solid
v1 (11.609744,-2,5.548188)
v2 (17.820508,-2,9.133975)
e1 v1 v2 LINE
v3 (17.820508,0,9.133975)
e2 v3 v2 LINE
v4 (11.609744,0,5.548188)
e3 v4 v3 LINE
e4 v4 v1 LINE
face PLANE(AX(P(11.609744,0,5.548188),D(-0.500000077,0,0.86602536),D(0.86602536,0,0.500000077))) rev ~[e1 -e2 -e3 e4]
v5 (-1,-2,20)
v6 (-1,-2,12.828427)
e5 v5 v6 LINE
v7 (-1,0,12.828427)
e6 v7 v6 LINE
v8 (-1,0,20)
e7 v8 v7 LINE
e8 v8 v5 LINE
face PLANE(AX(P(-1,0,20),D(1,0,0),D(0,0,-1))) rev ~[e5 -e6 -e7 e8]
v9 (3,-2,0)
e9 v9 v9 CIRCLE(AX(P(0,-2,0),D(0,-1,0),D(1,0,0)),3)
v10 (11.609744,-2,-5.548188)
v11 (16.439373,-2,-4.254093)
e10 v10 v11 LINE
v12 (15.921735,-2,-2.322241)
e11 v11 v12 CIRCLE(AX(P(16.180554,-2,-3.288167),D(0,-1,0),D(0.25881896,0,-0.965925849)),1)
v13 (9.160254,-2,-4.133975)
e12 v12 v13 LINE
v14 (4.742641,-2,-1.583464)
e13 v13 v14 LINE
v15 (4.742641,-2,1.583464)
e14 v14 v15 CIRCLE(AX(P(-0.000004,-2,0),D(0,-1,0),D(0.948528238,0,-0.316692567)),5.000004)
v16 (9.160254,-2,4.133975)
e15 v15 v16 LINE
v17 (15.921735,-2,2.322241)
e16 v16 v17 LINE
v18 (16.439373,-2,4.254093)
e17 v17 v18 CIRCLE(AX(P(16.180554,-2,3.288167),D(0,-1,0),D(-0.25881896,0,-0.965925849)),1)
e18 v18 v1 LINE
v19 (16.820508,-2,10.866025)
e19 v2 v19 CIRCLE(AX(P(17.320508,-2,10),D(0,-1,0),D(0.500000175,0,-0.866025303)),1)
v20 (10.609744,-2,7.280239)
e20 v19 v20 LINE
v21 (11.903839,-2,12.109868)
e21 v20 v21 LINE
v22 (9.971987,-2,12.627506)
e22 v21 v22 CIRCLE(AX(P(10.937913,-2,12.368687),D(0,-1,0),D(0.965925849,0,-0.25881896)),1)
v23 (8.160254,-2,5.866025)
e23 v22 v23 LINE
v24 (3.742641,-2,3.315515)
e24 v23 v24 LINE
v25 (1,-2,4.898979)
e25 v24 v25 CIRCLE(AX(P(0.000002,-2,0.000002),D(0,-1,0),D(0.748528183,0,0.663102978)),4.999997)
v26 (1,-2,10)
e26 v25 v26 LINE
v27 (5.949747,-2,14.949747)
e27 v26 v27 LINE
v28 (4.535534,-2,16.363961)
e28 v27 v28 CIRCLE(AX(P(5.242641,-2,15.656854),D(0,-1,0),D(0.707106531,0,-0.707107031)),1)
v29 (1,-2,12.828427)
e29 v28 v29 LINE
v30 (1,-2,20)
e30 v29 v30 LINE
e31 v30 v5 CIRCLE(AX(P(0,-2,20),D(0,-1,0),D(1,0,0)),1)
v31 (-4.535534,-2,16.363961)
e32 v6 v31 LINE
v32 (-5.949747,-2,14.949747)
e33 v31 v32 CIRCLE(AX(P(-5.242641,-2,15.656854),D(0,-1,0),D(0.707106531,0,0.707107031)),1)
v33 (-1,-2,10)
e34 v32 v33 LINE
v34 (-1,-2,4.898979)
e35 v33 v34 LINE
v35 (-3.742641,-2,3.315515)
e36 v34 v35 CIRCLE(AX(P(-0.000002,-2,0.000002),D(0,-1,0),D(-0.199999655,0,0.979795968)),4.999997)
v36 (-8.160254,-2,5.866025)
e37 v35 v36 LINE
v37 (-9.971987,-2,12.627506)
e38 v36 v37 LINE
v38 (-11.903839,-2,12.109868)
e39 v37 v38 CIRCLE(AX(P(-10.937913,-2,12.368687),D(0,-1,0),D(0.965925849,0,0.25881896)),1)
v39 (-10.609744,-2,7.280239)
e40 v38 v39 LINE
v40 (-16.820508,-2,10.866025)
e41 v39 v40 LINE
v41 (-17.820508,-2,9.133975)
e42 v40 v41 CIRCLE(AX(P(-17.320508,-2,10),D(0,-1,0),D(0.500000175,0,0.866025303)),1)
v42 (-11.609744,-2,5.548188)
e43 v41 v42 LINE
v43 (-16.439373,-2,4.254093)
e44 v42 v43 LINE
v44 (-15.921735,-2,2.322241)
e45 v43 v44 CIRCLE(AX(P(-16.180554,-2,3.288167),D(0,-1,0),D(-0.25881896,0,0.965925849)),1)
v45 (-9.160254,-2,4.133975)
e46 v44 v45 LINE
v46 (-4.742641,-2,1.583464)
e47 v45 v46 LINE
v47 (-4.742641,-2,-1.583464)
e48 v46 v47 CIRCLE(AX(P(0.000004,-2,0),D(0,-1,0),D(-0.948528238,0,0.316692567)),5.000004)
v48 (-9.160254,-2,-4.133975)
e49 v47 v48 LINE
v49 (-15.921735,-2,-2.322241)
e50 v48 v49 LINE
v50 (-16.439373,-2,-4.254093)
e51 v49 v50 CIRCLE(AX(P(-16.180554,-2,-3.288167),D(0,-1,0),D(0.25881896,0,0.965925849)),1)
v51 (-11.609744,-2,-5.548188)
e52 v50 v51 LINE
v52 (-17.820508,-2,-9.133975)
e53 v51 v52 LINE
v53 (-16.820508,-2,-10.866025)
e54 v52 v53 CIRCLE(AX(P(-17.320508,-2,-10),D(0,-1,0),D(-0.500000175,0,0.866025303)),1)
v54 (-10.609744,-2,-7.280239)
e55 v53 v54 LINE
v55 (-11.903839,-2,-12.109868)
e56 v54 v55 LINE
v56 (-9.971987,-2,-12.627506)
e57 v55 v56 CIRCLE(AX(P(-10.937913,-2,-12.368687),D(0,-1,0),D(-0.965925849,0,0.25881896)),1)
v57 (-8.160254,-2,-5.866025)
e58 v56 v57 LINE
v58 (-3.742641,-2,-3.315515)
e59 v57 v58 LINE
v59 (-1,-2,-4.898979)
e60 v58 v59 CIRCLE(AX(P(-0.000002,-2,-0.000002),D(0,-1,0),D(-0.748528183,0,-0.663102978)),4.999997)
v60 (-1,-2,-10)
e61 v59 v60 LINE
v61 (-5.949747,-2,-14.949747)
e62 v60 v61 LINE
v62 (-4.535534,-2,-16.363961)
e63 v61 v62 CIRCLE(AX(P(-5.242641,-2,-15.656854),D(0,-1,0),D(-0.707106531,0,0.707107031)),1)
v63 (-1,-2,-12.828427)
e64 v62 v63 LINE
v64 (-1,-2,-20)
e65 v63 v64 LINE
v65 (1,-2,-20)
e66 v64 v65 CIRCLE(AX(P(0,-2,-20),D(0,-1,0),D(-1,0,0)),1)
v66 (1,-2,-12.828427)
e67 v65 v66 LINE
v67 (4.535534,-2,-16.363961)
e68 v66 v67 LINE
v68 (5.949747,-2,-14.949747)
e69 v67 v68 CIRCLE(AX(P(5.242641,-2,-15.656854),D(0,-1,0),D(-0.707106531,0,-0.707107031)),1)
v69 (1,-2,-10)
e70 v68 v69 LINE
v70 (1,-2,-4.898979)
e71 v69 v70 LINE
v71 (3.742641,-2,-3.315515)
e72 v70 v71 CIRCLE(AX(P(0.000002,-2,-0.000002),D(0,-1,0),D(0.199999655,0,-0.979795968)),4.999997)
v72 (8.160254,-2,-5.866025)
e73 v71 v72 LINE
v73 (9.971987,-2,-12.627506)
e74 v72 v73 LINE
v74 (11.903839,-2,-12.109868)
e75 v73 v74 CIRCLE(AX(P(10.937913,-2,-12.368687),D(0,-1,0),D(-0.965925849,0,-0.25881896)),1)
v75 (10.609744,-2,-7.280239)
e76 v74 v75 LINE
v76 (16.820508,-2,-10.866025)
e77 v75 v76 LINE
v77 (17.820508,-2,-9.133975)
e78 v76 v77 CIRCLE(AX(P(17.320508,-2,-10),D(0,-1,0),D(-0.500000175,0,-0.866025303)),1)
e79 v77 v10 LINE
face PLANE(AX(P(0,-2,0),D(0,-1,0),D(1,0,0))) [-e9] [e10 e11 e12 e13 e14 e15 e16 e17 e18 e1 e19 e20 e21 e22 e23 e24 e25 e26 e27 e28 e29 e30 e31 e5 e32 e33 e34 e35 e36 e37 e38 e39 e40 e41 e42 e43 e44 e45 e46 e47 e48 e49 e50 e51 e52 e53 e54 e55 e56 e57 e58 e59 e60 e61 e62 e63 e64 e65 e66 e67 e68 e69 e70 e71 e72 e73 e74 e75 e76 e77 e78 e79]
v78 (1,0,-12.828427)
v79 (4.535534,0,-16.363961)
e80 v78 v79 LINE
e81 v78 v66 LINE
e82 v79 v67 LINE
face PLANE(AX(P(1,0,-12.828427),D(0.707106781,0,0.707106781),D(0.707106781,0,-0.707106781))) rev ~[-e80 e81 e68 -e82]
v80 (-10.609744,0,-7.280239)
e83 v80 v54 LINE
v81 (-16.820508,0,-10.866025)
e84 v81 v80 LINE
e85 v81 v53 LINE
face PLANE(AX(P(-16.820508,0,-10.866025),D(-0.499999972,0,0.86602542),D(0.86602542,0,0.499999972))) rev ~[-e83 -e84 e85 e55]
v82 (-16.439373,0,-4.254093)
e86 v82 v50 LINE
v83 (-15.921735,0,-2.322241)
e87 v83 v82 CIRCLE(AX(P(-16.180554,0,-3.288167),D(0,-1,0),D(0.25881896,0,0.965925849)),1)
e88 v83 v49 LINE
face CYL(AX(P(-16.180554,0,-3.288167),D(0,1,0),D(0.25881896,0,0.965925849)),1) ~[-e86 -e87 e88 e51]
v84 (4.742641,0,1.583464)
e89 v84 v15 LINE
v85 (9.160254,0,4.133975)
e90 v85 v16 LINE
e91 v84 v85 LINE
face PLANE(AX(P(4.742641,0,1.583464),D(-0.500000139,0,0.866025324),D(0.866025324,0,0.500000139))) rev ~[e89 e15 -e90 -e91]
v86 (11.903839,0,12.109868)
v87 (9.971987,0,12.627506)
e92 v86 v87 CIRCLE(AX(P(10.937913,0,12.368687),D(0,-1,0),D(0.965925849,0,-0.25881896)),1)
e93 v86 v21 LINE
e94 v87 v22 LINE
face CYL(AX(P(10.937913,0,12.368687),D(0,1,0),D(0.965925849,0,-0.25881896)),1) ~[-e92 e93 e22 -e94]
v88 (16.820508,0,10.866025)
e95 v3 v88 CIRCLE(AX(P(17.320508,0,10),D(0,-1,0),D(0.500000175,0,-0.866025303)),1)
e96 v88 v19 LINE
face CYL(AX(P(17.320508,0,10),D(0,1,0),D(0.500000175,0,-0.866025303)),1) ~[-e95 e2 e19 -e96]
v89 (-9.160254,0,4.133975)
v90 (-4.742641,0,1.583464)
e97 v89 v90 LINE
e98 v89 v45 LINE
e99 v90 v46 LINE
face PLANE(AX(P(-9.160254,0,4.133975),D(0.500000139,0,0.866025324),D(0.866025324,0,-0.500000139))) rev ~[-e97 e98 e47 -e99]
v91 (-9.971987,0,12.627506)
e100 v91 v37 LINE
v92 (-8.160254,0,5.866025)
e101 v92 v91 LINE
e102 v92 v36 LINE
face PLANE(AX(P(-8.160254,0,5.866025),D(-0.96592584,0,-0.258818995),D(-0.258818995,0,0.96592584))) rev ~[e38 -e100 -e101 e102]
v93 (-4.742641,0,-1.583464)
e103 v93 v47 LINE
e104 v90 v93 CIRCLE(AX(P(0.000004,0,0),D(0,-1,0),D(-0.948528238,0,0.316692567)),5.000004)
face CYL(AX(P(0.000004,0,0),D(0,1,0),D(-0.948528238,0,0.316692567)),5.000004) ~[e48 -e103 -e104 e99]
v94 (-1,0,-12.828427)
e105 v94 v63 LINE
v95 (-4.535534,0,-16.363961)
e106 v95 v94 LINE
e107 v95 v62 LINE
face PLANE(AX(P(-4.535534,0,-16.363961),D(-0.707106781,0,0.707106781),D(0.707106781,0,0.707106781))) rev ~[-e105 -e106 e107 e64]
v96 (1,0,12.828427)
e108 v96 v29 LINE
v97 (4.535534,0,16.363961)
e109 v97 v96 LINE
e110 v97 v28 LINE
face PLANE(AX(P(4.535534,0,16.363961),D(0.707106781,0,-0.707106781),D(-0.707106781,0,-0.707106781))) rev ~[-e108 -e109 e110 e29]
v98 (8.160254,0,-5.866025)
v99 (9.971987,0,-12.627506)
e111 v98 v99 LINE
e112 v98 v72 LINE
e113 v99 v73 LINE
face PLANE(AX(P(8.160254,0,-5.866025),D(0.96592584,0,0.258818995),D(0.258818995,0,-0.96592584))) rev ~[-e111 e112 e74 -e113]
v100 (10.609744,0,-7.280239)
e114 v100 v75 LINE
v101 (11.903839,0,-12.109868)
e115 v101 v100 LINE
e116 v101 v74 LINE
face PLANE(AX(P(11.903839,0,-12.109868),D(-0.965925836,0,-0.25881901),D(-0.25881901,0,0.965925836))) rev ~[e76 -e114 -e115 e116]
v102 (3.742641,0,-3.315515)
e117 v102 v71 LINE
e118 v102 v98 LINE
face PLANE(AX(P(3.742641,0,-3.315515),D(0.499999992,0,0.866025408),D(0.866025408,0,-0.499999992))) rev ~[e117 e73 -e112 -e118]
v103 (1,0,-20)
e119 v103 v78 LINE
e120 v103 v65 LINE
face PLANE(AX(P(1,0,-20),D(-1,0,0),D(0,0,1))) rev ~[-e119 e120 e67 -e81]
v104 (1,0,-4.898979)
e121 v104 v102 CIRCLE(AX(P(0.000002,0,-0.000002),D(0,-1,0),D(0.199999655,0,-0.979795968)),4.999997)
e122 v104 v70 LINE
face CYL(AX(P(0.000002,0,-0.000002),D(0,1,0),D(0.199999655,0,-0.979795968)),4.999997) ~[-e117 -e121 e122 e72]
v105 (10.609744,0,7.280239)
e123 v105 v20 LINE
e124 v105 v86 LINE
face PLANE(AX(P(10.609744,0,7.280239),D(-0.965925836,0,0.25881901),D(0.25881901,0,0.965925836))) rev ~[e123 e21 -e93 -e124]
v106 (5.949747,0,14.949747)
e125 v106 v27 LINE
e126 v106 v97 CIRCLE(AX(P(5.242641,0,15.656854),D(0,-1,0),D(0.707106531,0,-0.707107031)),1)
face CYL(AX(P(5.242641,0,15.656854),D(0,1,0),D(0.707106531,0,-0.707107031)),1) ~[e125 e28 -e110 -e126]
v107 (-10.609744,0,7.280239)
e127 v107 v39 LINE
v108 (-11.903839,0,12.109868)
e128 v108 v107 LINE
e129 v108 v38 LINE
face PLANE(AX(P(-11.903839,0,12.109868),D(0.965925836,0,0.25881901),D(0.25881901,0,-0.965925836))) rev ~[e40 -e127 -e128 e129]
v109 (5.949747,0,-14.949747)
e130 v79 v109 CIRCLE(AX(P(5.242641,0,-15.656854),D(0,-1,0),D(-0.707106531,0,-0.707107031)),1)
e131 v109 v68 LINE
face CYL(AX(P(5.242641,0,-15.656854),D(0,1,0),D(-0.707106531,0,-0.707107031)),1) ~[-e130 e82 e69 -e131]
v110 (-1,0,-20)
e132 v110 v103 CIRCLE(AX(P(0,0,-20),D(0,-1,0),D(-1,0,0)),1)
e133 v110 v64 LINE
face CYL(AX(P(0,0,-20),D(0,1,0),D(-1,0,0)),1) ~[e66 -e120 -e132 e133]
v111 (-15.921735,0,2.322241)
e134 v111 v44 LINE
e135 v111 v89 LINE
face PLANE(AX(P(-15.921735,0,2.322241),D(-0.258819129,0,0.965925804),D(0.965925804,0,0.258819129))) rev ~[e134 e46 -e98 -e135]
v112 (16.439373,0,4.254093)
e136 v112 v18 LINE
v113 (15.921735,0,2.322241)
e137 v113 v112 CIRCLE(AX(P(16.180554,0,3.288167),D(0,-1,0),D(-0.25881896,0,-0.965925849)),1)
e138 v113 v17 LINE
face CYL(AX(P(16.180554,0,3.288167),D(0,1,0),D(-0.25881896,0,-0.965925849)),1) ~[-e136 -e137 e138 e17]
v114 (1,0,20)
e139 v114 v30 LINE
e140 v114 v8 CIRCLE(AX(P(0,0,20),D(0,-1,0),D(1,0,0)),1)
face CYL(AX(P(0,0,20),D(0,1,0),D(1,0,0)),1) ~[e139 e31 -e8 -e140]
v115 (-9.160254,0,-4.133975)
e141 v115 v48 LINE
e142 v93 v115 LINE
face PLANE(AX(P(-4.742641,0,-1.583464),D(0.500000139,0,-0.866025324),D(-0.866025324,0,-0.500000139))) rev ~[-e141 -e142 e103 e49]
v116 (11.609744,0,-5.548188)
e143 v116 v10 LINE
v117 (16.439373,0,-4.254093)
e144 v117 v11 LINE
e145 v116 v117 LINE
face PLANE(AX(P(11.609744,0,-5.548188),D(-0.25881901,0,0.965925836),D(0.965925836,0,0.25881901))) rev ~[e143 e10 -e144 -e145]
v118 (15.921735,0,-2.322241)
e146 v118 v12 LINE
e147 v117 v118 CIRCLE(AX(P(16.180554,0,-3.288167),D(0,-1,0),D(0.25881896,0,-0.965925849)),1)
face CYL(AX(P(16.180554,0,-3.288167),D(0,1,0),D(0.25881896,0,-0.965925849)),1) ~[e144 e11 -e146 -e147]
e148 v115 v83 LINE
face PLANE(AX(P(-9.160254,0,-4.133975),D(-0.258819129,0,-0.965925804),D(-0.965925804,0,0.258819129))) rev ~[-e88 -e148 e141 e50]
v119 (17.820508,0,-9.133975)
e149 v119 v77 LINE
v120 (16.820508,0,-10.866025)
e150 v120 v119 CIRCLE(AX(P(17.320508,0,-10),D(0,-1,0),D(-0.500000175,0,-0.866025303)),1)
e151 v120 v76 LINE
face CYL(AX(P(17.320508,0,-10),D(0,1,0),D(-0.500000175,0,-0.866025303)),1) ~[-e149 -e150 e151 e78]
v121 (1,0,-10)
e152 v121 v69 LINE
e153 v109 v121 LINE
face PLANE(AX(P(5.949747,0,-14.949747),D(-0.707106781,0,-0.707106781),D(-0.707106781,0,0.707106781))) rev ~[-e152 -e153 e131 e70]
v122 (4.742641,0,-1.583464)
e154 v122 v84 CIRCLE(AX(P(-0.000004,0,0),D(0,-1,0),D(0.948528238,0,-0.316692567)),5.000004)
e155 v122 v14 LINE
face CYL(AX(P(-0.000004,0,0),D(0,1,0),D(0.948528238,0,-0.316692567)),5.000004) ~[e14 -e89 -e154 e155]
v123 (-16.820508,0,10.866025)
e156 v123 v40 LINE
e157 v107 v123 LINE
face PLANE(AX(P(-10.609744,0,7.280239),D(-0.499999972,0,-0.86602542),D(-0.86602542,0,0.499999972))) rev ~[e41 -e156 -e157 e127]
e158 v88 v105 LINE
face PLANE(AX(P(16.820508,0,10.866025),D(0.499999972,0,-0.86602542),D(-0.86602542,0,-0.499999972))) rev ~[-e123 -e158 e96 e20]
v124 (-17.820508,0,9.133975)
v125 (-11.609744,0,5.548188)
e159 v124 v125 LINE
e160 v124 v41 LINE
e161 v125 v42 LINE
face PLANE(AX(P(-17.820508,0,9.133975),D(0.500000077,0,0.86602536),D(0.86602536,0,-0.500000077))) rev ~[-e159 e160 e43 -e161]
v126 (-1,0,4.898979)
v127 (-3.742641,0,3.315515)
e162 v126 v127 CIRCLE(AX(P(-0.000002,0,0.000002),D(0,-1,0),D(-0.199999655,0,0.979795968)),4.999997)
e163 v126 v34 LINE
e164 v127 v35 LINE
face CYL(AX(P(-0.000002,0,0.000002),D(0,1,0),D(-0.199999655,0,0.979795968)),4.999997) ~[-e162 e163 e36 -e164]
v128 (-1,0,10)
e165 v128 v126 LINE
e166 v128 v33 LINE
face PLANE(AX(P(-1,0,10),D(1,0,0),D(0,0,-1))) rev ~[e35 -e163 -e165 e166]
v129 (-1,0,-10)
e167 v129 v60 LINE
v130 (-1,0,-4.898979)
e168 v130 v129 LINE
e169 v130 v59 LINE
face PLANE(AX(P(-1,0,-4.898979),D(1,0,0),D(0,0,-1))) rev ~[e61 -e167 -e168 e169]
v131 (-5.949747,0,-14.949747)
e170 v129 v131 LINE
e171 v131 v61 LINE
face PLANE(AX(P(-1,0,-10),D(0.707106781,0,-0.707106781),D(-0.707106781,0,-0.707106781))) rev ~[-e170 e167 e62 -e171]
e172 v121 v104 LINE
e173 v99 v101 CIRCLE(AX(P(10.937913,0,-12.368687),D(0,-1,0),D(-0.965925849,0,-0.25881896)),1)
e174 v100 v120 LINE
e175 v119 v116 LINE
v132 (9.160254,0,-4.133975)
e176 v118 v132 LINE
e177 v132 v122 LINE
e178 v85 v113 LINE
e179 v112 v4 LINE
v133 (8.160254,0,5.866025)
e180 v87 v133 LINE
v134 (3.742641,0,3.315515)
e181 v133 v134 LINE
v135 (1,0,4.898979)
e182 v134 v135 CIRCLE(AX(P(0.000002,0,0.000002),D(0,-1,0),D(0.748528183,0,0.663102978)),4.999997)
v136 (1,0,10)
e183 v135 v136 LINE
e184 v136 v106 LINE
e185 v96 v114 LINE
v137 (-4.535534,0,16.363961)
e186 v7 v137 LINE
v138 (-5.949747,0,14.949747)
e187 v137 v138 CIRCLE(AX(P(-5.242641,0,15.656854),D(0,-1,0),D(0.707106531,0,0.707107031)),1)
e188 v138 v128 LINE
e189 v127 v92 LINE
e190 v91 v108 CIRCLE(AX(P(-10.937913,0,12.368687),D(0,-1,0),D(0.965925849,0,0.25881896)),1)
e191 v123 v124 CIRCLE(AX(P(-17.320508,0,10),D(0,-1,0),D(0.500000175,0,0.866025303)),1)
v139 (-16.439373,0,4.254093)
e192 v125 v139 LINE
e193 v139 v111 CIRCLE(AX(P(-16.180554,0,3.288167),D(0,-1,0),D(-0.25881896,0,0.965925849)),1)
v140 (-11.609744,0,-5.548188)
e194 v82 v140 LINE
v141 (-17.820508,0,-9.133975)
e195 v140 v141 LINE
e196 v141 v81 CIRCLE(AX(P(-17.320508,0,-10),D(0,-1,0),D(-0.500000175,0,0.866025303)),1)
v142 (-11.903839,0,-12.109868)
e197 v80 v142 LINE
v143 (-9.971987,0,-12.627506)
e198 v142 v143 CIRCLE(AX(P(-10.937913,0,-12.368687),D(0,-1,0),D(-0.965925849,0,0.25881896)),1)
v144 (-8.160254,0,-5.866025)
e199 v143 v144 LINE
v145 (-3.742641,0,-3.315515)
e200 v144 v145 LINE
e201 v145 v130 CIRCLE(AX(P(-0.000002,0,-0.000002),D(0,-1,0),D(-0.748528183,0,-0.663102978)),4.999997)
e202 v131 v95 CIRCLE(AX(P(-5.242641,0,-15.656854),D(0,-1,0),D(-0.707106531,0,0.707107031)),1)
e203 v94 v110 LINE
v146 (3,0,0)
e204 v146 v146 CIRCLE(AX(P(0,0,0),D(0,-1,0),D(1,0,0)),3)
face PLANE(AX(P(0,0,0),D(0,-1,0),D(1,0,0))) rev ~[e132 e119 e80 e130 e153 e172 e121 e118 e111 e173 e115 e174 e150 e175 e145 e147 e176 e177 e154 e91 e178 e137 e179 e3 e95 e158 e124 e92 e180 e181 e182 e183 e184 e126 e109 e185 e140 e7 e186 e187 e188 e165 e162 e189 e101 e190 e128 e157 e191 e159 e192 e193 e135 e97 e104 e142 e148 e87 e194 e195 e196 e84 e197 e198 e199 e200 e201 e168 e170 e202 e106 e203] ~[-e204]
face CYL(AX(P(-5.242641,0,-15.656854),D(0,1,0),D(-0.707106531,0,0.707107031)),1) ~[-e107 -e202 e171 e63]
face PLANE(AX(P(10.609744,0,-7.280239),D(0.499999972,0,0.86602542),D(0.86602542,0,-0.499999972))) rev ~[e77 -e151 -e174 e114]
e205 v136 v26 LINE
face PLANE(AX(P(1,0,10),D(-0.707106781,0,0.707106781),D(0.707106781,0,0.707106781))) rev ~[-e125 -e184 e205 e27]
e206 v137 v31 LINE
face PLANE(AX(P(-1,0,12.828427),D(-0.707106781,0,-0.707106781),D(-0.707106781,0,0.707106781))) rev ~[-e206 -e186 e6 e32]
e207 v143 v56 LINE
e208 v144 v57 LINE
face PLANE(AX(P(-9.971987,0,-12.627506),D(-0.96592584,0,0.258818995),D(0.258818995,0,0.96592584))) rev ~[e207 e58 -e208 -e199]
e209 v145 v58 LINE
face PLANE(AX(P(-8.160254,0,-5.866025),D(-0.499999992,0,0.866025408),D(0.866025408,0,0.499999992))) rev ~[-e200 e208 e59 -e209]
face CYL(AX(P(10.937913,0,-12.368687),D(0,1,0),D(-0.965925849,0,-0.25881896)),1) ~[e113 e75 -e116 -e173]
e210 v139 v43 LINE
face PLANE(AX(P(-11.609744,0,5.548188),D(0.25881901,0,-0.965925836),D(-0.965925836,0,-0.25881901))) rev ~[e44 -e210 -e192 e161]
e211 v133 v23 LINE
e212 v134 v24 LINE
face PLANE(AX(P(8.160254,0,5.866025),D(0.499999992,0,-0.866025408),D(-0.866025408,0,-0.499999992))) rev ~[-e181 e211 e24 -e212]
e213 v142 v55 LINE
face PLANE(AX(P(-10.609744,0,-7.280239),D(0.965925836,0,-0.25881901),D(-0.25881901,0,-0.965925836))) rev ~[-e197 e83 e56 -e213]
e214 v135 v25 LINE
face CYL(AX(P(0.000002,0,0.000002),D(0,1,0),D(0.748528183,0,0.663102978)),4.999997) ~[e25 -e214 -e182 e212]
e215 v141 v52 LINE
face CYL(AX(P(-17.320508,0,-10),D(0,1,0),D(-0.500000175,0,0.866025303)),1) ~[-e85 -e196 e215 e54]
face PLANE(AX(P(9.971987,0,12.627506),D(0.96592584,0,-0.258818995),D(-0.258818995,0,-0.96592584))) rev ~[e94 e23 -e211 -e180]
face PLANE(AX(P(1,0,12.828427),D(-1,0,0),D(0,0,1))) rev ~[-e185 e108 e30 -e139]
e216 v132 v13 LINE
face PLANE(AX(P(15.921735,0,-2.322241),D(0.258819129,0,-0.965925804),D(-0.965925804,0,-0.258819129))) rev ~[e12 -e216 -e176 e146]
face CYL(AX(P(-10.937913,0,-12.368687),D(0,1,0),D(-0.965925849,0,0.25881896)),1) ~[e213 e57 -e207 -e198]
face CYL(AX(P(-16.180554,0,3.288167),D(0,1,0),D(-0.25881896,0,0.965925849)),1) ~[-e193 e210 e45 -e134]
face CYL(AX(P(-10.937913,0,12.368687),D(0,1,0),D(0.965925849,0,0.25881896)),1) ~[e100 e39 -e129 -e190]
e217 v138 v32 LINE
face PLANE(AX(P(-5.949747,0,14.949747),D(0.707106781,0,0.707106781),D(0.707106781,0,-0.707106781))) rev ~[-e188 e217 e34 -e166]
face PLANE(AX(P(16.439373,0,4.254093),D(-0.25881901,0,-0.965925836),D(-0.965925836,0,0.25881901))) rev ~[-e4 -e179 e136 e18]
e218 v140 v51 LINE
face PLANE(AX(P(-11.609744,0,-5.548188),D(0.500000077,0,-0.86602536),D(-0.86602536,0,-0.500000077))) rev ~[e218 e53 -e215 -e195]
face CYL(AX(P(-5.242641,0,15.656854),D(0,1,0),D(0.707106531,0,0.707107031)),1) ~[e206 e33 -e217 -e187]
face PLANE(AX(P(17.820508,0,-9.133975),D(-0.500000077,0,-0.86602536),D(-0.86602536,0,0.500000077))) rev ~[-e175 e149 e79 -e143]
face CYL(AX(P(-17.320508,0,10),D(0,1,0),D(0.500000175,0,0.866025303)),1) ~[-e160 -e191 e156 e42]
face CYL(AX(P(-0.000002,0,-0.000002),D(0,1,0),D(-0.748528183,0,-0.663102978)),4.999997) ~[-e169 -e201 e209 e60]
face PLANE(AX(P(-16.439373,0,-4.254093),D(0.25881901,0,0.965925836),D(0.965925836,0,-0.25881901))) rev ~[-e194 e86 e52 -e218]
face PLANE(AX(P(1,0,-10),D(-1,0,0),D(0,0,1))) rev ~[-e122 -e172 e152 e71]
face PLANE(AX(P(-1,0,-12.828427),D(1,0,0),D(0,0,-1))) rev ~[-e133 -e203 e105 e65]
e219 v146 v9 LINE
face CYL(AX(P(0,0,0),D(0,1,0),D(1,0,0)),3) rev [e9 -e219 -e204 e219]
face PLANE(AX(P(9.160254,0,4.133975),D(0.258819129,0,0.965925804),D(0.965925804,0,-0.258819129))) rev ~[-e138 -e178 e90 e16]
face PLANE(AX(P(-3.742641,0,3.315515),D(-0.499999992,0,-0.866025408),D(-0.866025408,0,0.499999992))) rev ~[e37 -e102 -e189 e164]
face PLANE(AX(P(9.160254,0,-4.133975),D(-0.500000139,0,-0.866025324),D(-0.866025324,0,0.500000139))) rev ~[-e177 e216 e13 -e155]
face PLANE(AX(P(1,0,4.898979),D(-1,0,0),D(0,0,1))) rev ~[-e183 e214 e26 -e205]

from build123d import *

# Parameters (mm, degrees)
F0_R     = 3
F1_DEPTH = 2


with BuildPart() as f1:
    # F0 (on Front) → F1 (new body)
    with BuildSketch(Plane.XZ):
        with BuildLine():
            Line((-1, 10), (-1, 4.898979))
            ThreePointArc((-1, 4.898979), (-2.5, 4.330127), (-3.742641, 3.315515))
            Line((-3.742641, 3.315515), (-8.160254, 5.866025))
            Line((-8.160254, 5.866025), (-9.971987, 12.627506))
            ThreePointArc((-9.971987, 12.627506), (-11.196732, 13.334613), (-11.903839, 12.109868))
            Line((-11.903839, 12.109868), (-10.609744, 7.280239))
            Line((-10.609744, 7.280239), (-16.820508, 10.866025))
            ThreePointArc((-16.820508, 10.866025), (-18.186533, 10.5), (-17.820508, 9.133975))
            Line((-17.820508, 9.133975), (-11.609744, 5.548188))
            Line((-11.609744, 5.548188), (-16.439373, 4.254093))
            ThreePointArc((-16.439373, 4.254093), (-17.14648, 3.029348), (-15.921735, 2.322241))
            Line((-15.921735, 2.322241), (-9.160254, 4.133975))
            Line((-9.160254, 4.133975), (-4.742641, 1.583464))
            ThreePointArc((-4.742641, 1.583464), (-5, 0), (-4.742641, -1.583464))
            Line((-4.742641, -1.583464), (-9.160254, -4.133975))
            Line((-9.160254, -4.133975), (-15.921735, -2.322241))
            ThreePointArc((-15.921735, -2.322241), (-17.14648, -3.029348), (-16.439373, -4.254093))
            Line((-16.439373, -4.254093), (-11.609744, -5.548188))
            Line((-11.609744, -5.548188), (-17.820508, -9.133975))
            ThreePointArc((-17.820508, -9.133975), (-18.186533, -10.5), (-16.820508, -10.866025))
            Line((-16.820508, -10.866025), (-10.609744, -7.280239))
            Line((-10.609744, -7.280239), (-11.903839, -12.109868))
            ThreePointArc((-11.903839, -12.109868), (-11.196732, -13.334613), (-9.971987, -12.627506))
            Line((-9.971987, -12.627506), (-8.160254, -5.866025))
            Line((-8.160254, -5.866025), (-3.742641, -3.315515))
            ThreePointArc((-3.742641, -3.315515), (-2.5, -4.330127), (-1, -4.898979))
            Line((-1, -4.898979), (-1, -10))
            Line((-1, -10), (-5.949747, -14.949747))
            ThreePointArc((-5.949747, -14.949747), (-5.949747, -16.363961), (-4.535534, -16.363961))
            Line((-4.535534, -16.363961), (-1, -12.828427))
            Line((-1, -12.828427), (-1, -20))
            ThreePointArc((-1, -20), (0, -21), (1, -20))
            Line((1, -20), (1, -12.828427))
            Line((1, -12.828427), (4.535534, -16.363961))
            ThreePointArc((4.535534, -16.363961), (5.949747, -16.363961), (5.949747, -14.949747))
            Line((5.949747, -14.949747), (1, -10))
            Line((1, -10), (1, -4.898979))
            ThreePointArc((1, -4.898979), (2.5, -4.330127), (3.742641, -3.315515))
            Line((3.742641, -3.315515), (8.160254, -5.866025))
            Line((8.160254, -5.866025), (9.971987, -12.627506))
            ThreePointArc((9.971987, -12.627506), (11.196732, -13.334613), (11.903839, -12.109868))
            Line((11.903839, -12.109868), (10.609744, -7.280239))
            Line((10.609744, -7.280239), (16.820508, -10.866025))
            ThreePointArc((16.820508, -10.866025), (18.186533, -10.5), (17.820508, -9.133975))
            Line((17.820508, -9.133975), (11.609744, -5.548188))
            Line((11.609744, -5.548188), (16.439373, -4.254093))
            ThreePointArc((16.439373, -4.254093), (17.14648, -3.029348), (15.921735, -2.322241))
            Line((15.921735, -2.322241), (9.160254, -4.133975))
            Line((9.160254, -4.133975), (4.742641, -1.583464))
            ThreePointArc((4.742641, -1.583464), (5, 0), (4.742641, 1.583464))
            Line((4.742641, 1.583464), (9.160254, 4.133975))
            Line((9.160254, 4.133975), (15.921735, 2.322241))
            ThreePointArc((15.921735, 2.322241), (17.14648, 3.029348), (16.439373, 4.254093))
            Line((16.439373, 4.254093), (11.609744, 5.548188))
            Line((11.609744, 5.548188), (17.820508, 9.133975))
            ThreePointArc((17.820508, 9.133975), (18.186533, 10.5), (16.820508, 10.866025))
            Line((16.820508, 10.866025), (10.609744, 7.280239))
            Line((10.609744, 7.280239), (11.903839, 12.109868))
            ThreePointArc((11.903839, 12.109868), (11.196732, 13.334613), (9.971987, 12.627506))
            Line((9.971987, 12.627506), (8.160254, 5.866025))
            Line((8.160254, 5.866025), (3.742641, 3.315515))
            ThreePointArc((3.742641, 3.315515), (2.5, 4.330127), (1, 4.898979))
            Line((1, 4.898979), (1, 10))
            Line((1, 10), (5.949747, 14.949747))
            ThreePointArc((5.949747, 14.949747), (5.949747, 16.363961), (4.535534, 16.363961))
            Line((4.535534, 16.363961), (1, 12.828427))
            Line((1, 12.828427), (1, 20))
            ThreePointArc((1, 20), (0, 21), (-1, 20))
            Line((-1, 20), (-1, 12.828427))
            Line((-1, 12.828427), (-4.535534, 16.363961))
            ThreePointArc((-4.535534, 16.363961), (-5.949747, 16.363961), (-5.949747, 14.949747))
            Line((-5.949747, 14.949747), (-1, 10))
        make_face()
        Circle(F0_R, mode=Mode.SUBTRACT)
    extrude(amount=F1_DEPTH)


solid = f1.part
